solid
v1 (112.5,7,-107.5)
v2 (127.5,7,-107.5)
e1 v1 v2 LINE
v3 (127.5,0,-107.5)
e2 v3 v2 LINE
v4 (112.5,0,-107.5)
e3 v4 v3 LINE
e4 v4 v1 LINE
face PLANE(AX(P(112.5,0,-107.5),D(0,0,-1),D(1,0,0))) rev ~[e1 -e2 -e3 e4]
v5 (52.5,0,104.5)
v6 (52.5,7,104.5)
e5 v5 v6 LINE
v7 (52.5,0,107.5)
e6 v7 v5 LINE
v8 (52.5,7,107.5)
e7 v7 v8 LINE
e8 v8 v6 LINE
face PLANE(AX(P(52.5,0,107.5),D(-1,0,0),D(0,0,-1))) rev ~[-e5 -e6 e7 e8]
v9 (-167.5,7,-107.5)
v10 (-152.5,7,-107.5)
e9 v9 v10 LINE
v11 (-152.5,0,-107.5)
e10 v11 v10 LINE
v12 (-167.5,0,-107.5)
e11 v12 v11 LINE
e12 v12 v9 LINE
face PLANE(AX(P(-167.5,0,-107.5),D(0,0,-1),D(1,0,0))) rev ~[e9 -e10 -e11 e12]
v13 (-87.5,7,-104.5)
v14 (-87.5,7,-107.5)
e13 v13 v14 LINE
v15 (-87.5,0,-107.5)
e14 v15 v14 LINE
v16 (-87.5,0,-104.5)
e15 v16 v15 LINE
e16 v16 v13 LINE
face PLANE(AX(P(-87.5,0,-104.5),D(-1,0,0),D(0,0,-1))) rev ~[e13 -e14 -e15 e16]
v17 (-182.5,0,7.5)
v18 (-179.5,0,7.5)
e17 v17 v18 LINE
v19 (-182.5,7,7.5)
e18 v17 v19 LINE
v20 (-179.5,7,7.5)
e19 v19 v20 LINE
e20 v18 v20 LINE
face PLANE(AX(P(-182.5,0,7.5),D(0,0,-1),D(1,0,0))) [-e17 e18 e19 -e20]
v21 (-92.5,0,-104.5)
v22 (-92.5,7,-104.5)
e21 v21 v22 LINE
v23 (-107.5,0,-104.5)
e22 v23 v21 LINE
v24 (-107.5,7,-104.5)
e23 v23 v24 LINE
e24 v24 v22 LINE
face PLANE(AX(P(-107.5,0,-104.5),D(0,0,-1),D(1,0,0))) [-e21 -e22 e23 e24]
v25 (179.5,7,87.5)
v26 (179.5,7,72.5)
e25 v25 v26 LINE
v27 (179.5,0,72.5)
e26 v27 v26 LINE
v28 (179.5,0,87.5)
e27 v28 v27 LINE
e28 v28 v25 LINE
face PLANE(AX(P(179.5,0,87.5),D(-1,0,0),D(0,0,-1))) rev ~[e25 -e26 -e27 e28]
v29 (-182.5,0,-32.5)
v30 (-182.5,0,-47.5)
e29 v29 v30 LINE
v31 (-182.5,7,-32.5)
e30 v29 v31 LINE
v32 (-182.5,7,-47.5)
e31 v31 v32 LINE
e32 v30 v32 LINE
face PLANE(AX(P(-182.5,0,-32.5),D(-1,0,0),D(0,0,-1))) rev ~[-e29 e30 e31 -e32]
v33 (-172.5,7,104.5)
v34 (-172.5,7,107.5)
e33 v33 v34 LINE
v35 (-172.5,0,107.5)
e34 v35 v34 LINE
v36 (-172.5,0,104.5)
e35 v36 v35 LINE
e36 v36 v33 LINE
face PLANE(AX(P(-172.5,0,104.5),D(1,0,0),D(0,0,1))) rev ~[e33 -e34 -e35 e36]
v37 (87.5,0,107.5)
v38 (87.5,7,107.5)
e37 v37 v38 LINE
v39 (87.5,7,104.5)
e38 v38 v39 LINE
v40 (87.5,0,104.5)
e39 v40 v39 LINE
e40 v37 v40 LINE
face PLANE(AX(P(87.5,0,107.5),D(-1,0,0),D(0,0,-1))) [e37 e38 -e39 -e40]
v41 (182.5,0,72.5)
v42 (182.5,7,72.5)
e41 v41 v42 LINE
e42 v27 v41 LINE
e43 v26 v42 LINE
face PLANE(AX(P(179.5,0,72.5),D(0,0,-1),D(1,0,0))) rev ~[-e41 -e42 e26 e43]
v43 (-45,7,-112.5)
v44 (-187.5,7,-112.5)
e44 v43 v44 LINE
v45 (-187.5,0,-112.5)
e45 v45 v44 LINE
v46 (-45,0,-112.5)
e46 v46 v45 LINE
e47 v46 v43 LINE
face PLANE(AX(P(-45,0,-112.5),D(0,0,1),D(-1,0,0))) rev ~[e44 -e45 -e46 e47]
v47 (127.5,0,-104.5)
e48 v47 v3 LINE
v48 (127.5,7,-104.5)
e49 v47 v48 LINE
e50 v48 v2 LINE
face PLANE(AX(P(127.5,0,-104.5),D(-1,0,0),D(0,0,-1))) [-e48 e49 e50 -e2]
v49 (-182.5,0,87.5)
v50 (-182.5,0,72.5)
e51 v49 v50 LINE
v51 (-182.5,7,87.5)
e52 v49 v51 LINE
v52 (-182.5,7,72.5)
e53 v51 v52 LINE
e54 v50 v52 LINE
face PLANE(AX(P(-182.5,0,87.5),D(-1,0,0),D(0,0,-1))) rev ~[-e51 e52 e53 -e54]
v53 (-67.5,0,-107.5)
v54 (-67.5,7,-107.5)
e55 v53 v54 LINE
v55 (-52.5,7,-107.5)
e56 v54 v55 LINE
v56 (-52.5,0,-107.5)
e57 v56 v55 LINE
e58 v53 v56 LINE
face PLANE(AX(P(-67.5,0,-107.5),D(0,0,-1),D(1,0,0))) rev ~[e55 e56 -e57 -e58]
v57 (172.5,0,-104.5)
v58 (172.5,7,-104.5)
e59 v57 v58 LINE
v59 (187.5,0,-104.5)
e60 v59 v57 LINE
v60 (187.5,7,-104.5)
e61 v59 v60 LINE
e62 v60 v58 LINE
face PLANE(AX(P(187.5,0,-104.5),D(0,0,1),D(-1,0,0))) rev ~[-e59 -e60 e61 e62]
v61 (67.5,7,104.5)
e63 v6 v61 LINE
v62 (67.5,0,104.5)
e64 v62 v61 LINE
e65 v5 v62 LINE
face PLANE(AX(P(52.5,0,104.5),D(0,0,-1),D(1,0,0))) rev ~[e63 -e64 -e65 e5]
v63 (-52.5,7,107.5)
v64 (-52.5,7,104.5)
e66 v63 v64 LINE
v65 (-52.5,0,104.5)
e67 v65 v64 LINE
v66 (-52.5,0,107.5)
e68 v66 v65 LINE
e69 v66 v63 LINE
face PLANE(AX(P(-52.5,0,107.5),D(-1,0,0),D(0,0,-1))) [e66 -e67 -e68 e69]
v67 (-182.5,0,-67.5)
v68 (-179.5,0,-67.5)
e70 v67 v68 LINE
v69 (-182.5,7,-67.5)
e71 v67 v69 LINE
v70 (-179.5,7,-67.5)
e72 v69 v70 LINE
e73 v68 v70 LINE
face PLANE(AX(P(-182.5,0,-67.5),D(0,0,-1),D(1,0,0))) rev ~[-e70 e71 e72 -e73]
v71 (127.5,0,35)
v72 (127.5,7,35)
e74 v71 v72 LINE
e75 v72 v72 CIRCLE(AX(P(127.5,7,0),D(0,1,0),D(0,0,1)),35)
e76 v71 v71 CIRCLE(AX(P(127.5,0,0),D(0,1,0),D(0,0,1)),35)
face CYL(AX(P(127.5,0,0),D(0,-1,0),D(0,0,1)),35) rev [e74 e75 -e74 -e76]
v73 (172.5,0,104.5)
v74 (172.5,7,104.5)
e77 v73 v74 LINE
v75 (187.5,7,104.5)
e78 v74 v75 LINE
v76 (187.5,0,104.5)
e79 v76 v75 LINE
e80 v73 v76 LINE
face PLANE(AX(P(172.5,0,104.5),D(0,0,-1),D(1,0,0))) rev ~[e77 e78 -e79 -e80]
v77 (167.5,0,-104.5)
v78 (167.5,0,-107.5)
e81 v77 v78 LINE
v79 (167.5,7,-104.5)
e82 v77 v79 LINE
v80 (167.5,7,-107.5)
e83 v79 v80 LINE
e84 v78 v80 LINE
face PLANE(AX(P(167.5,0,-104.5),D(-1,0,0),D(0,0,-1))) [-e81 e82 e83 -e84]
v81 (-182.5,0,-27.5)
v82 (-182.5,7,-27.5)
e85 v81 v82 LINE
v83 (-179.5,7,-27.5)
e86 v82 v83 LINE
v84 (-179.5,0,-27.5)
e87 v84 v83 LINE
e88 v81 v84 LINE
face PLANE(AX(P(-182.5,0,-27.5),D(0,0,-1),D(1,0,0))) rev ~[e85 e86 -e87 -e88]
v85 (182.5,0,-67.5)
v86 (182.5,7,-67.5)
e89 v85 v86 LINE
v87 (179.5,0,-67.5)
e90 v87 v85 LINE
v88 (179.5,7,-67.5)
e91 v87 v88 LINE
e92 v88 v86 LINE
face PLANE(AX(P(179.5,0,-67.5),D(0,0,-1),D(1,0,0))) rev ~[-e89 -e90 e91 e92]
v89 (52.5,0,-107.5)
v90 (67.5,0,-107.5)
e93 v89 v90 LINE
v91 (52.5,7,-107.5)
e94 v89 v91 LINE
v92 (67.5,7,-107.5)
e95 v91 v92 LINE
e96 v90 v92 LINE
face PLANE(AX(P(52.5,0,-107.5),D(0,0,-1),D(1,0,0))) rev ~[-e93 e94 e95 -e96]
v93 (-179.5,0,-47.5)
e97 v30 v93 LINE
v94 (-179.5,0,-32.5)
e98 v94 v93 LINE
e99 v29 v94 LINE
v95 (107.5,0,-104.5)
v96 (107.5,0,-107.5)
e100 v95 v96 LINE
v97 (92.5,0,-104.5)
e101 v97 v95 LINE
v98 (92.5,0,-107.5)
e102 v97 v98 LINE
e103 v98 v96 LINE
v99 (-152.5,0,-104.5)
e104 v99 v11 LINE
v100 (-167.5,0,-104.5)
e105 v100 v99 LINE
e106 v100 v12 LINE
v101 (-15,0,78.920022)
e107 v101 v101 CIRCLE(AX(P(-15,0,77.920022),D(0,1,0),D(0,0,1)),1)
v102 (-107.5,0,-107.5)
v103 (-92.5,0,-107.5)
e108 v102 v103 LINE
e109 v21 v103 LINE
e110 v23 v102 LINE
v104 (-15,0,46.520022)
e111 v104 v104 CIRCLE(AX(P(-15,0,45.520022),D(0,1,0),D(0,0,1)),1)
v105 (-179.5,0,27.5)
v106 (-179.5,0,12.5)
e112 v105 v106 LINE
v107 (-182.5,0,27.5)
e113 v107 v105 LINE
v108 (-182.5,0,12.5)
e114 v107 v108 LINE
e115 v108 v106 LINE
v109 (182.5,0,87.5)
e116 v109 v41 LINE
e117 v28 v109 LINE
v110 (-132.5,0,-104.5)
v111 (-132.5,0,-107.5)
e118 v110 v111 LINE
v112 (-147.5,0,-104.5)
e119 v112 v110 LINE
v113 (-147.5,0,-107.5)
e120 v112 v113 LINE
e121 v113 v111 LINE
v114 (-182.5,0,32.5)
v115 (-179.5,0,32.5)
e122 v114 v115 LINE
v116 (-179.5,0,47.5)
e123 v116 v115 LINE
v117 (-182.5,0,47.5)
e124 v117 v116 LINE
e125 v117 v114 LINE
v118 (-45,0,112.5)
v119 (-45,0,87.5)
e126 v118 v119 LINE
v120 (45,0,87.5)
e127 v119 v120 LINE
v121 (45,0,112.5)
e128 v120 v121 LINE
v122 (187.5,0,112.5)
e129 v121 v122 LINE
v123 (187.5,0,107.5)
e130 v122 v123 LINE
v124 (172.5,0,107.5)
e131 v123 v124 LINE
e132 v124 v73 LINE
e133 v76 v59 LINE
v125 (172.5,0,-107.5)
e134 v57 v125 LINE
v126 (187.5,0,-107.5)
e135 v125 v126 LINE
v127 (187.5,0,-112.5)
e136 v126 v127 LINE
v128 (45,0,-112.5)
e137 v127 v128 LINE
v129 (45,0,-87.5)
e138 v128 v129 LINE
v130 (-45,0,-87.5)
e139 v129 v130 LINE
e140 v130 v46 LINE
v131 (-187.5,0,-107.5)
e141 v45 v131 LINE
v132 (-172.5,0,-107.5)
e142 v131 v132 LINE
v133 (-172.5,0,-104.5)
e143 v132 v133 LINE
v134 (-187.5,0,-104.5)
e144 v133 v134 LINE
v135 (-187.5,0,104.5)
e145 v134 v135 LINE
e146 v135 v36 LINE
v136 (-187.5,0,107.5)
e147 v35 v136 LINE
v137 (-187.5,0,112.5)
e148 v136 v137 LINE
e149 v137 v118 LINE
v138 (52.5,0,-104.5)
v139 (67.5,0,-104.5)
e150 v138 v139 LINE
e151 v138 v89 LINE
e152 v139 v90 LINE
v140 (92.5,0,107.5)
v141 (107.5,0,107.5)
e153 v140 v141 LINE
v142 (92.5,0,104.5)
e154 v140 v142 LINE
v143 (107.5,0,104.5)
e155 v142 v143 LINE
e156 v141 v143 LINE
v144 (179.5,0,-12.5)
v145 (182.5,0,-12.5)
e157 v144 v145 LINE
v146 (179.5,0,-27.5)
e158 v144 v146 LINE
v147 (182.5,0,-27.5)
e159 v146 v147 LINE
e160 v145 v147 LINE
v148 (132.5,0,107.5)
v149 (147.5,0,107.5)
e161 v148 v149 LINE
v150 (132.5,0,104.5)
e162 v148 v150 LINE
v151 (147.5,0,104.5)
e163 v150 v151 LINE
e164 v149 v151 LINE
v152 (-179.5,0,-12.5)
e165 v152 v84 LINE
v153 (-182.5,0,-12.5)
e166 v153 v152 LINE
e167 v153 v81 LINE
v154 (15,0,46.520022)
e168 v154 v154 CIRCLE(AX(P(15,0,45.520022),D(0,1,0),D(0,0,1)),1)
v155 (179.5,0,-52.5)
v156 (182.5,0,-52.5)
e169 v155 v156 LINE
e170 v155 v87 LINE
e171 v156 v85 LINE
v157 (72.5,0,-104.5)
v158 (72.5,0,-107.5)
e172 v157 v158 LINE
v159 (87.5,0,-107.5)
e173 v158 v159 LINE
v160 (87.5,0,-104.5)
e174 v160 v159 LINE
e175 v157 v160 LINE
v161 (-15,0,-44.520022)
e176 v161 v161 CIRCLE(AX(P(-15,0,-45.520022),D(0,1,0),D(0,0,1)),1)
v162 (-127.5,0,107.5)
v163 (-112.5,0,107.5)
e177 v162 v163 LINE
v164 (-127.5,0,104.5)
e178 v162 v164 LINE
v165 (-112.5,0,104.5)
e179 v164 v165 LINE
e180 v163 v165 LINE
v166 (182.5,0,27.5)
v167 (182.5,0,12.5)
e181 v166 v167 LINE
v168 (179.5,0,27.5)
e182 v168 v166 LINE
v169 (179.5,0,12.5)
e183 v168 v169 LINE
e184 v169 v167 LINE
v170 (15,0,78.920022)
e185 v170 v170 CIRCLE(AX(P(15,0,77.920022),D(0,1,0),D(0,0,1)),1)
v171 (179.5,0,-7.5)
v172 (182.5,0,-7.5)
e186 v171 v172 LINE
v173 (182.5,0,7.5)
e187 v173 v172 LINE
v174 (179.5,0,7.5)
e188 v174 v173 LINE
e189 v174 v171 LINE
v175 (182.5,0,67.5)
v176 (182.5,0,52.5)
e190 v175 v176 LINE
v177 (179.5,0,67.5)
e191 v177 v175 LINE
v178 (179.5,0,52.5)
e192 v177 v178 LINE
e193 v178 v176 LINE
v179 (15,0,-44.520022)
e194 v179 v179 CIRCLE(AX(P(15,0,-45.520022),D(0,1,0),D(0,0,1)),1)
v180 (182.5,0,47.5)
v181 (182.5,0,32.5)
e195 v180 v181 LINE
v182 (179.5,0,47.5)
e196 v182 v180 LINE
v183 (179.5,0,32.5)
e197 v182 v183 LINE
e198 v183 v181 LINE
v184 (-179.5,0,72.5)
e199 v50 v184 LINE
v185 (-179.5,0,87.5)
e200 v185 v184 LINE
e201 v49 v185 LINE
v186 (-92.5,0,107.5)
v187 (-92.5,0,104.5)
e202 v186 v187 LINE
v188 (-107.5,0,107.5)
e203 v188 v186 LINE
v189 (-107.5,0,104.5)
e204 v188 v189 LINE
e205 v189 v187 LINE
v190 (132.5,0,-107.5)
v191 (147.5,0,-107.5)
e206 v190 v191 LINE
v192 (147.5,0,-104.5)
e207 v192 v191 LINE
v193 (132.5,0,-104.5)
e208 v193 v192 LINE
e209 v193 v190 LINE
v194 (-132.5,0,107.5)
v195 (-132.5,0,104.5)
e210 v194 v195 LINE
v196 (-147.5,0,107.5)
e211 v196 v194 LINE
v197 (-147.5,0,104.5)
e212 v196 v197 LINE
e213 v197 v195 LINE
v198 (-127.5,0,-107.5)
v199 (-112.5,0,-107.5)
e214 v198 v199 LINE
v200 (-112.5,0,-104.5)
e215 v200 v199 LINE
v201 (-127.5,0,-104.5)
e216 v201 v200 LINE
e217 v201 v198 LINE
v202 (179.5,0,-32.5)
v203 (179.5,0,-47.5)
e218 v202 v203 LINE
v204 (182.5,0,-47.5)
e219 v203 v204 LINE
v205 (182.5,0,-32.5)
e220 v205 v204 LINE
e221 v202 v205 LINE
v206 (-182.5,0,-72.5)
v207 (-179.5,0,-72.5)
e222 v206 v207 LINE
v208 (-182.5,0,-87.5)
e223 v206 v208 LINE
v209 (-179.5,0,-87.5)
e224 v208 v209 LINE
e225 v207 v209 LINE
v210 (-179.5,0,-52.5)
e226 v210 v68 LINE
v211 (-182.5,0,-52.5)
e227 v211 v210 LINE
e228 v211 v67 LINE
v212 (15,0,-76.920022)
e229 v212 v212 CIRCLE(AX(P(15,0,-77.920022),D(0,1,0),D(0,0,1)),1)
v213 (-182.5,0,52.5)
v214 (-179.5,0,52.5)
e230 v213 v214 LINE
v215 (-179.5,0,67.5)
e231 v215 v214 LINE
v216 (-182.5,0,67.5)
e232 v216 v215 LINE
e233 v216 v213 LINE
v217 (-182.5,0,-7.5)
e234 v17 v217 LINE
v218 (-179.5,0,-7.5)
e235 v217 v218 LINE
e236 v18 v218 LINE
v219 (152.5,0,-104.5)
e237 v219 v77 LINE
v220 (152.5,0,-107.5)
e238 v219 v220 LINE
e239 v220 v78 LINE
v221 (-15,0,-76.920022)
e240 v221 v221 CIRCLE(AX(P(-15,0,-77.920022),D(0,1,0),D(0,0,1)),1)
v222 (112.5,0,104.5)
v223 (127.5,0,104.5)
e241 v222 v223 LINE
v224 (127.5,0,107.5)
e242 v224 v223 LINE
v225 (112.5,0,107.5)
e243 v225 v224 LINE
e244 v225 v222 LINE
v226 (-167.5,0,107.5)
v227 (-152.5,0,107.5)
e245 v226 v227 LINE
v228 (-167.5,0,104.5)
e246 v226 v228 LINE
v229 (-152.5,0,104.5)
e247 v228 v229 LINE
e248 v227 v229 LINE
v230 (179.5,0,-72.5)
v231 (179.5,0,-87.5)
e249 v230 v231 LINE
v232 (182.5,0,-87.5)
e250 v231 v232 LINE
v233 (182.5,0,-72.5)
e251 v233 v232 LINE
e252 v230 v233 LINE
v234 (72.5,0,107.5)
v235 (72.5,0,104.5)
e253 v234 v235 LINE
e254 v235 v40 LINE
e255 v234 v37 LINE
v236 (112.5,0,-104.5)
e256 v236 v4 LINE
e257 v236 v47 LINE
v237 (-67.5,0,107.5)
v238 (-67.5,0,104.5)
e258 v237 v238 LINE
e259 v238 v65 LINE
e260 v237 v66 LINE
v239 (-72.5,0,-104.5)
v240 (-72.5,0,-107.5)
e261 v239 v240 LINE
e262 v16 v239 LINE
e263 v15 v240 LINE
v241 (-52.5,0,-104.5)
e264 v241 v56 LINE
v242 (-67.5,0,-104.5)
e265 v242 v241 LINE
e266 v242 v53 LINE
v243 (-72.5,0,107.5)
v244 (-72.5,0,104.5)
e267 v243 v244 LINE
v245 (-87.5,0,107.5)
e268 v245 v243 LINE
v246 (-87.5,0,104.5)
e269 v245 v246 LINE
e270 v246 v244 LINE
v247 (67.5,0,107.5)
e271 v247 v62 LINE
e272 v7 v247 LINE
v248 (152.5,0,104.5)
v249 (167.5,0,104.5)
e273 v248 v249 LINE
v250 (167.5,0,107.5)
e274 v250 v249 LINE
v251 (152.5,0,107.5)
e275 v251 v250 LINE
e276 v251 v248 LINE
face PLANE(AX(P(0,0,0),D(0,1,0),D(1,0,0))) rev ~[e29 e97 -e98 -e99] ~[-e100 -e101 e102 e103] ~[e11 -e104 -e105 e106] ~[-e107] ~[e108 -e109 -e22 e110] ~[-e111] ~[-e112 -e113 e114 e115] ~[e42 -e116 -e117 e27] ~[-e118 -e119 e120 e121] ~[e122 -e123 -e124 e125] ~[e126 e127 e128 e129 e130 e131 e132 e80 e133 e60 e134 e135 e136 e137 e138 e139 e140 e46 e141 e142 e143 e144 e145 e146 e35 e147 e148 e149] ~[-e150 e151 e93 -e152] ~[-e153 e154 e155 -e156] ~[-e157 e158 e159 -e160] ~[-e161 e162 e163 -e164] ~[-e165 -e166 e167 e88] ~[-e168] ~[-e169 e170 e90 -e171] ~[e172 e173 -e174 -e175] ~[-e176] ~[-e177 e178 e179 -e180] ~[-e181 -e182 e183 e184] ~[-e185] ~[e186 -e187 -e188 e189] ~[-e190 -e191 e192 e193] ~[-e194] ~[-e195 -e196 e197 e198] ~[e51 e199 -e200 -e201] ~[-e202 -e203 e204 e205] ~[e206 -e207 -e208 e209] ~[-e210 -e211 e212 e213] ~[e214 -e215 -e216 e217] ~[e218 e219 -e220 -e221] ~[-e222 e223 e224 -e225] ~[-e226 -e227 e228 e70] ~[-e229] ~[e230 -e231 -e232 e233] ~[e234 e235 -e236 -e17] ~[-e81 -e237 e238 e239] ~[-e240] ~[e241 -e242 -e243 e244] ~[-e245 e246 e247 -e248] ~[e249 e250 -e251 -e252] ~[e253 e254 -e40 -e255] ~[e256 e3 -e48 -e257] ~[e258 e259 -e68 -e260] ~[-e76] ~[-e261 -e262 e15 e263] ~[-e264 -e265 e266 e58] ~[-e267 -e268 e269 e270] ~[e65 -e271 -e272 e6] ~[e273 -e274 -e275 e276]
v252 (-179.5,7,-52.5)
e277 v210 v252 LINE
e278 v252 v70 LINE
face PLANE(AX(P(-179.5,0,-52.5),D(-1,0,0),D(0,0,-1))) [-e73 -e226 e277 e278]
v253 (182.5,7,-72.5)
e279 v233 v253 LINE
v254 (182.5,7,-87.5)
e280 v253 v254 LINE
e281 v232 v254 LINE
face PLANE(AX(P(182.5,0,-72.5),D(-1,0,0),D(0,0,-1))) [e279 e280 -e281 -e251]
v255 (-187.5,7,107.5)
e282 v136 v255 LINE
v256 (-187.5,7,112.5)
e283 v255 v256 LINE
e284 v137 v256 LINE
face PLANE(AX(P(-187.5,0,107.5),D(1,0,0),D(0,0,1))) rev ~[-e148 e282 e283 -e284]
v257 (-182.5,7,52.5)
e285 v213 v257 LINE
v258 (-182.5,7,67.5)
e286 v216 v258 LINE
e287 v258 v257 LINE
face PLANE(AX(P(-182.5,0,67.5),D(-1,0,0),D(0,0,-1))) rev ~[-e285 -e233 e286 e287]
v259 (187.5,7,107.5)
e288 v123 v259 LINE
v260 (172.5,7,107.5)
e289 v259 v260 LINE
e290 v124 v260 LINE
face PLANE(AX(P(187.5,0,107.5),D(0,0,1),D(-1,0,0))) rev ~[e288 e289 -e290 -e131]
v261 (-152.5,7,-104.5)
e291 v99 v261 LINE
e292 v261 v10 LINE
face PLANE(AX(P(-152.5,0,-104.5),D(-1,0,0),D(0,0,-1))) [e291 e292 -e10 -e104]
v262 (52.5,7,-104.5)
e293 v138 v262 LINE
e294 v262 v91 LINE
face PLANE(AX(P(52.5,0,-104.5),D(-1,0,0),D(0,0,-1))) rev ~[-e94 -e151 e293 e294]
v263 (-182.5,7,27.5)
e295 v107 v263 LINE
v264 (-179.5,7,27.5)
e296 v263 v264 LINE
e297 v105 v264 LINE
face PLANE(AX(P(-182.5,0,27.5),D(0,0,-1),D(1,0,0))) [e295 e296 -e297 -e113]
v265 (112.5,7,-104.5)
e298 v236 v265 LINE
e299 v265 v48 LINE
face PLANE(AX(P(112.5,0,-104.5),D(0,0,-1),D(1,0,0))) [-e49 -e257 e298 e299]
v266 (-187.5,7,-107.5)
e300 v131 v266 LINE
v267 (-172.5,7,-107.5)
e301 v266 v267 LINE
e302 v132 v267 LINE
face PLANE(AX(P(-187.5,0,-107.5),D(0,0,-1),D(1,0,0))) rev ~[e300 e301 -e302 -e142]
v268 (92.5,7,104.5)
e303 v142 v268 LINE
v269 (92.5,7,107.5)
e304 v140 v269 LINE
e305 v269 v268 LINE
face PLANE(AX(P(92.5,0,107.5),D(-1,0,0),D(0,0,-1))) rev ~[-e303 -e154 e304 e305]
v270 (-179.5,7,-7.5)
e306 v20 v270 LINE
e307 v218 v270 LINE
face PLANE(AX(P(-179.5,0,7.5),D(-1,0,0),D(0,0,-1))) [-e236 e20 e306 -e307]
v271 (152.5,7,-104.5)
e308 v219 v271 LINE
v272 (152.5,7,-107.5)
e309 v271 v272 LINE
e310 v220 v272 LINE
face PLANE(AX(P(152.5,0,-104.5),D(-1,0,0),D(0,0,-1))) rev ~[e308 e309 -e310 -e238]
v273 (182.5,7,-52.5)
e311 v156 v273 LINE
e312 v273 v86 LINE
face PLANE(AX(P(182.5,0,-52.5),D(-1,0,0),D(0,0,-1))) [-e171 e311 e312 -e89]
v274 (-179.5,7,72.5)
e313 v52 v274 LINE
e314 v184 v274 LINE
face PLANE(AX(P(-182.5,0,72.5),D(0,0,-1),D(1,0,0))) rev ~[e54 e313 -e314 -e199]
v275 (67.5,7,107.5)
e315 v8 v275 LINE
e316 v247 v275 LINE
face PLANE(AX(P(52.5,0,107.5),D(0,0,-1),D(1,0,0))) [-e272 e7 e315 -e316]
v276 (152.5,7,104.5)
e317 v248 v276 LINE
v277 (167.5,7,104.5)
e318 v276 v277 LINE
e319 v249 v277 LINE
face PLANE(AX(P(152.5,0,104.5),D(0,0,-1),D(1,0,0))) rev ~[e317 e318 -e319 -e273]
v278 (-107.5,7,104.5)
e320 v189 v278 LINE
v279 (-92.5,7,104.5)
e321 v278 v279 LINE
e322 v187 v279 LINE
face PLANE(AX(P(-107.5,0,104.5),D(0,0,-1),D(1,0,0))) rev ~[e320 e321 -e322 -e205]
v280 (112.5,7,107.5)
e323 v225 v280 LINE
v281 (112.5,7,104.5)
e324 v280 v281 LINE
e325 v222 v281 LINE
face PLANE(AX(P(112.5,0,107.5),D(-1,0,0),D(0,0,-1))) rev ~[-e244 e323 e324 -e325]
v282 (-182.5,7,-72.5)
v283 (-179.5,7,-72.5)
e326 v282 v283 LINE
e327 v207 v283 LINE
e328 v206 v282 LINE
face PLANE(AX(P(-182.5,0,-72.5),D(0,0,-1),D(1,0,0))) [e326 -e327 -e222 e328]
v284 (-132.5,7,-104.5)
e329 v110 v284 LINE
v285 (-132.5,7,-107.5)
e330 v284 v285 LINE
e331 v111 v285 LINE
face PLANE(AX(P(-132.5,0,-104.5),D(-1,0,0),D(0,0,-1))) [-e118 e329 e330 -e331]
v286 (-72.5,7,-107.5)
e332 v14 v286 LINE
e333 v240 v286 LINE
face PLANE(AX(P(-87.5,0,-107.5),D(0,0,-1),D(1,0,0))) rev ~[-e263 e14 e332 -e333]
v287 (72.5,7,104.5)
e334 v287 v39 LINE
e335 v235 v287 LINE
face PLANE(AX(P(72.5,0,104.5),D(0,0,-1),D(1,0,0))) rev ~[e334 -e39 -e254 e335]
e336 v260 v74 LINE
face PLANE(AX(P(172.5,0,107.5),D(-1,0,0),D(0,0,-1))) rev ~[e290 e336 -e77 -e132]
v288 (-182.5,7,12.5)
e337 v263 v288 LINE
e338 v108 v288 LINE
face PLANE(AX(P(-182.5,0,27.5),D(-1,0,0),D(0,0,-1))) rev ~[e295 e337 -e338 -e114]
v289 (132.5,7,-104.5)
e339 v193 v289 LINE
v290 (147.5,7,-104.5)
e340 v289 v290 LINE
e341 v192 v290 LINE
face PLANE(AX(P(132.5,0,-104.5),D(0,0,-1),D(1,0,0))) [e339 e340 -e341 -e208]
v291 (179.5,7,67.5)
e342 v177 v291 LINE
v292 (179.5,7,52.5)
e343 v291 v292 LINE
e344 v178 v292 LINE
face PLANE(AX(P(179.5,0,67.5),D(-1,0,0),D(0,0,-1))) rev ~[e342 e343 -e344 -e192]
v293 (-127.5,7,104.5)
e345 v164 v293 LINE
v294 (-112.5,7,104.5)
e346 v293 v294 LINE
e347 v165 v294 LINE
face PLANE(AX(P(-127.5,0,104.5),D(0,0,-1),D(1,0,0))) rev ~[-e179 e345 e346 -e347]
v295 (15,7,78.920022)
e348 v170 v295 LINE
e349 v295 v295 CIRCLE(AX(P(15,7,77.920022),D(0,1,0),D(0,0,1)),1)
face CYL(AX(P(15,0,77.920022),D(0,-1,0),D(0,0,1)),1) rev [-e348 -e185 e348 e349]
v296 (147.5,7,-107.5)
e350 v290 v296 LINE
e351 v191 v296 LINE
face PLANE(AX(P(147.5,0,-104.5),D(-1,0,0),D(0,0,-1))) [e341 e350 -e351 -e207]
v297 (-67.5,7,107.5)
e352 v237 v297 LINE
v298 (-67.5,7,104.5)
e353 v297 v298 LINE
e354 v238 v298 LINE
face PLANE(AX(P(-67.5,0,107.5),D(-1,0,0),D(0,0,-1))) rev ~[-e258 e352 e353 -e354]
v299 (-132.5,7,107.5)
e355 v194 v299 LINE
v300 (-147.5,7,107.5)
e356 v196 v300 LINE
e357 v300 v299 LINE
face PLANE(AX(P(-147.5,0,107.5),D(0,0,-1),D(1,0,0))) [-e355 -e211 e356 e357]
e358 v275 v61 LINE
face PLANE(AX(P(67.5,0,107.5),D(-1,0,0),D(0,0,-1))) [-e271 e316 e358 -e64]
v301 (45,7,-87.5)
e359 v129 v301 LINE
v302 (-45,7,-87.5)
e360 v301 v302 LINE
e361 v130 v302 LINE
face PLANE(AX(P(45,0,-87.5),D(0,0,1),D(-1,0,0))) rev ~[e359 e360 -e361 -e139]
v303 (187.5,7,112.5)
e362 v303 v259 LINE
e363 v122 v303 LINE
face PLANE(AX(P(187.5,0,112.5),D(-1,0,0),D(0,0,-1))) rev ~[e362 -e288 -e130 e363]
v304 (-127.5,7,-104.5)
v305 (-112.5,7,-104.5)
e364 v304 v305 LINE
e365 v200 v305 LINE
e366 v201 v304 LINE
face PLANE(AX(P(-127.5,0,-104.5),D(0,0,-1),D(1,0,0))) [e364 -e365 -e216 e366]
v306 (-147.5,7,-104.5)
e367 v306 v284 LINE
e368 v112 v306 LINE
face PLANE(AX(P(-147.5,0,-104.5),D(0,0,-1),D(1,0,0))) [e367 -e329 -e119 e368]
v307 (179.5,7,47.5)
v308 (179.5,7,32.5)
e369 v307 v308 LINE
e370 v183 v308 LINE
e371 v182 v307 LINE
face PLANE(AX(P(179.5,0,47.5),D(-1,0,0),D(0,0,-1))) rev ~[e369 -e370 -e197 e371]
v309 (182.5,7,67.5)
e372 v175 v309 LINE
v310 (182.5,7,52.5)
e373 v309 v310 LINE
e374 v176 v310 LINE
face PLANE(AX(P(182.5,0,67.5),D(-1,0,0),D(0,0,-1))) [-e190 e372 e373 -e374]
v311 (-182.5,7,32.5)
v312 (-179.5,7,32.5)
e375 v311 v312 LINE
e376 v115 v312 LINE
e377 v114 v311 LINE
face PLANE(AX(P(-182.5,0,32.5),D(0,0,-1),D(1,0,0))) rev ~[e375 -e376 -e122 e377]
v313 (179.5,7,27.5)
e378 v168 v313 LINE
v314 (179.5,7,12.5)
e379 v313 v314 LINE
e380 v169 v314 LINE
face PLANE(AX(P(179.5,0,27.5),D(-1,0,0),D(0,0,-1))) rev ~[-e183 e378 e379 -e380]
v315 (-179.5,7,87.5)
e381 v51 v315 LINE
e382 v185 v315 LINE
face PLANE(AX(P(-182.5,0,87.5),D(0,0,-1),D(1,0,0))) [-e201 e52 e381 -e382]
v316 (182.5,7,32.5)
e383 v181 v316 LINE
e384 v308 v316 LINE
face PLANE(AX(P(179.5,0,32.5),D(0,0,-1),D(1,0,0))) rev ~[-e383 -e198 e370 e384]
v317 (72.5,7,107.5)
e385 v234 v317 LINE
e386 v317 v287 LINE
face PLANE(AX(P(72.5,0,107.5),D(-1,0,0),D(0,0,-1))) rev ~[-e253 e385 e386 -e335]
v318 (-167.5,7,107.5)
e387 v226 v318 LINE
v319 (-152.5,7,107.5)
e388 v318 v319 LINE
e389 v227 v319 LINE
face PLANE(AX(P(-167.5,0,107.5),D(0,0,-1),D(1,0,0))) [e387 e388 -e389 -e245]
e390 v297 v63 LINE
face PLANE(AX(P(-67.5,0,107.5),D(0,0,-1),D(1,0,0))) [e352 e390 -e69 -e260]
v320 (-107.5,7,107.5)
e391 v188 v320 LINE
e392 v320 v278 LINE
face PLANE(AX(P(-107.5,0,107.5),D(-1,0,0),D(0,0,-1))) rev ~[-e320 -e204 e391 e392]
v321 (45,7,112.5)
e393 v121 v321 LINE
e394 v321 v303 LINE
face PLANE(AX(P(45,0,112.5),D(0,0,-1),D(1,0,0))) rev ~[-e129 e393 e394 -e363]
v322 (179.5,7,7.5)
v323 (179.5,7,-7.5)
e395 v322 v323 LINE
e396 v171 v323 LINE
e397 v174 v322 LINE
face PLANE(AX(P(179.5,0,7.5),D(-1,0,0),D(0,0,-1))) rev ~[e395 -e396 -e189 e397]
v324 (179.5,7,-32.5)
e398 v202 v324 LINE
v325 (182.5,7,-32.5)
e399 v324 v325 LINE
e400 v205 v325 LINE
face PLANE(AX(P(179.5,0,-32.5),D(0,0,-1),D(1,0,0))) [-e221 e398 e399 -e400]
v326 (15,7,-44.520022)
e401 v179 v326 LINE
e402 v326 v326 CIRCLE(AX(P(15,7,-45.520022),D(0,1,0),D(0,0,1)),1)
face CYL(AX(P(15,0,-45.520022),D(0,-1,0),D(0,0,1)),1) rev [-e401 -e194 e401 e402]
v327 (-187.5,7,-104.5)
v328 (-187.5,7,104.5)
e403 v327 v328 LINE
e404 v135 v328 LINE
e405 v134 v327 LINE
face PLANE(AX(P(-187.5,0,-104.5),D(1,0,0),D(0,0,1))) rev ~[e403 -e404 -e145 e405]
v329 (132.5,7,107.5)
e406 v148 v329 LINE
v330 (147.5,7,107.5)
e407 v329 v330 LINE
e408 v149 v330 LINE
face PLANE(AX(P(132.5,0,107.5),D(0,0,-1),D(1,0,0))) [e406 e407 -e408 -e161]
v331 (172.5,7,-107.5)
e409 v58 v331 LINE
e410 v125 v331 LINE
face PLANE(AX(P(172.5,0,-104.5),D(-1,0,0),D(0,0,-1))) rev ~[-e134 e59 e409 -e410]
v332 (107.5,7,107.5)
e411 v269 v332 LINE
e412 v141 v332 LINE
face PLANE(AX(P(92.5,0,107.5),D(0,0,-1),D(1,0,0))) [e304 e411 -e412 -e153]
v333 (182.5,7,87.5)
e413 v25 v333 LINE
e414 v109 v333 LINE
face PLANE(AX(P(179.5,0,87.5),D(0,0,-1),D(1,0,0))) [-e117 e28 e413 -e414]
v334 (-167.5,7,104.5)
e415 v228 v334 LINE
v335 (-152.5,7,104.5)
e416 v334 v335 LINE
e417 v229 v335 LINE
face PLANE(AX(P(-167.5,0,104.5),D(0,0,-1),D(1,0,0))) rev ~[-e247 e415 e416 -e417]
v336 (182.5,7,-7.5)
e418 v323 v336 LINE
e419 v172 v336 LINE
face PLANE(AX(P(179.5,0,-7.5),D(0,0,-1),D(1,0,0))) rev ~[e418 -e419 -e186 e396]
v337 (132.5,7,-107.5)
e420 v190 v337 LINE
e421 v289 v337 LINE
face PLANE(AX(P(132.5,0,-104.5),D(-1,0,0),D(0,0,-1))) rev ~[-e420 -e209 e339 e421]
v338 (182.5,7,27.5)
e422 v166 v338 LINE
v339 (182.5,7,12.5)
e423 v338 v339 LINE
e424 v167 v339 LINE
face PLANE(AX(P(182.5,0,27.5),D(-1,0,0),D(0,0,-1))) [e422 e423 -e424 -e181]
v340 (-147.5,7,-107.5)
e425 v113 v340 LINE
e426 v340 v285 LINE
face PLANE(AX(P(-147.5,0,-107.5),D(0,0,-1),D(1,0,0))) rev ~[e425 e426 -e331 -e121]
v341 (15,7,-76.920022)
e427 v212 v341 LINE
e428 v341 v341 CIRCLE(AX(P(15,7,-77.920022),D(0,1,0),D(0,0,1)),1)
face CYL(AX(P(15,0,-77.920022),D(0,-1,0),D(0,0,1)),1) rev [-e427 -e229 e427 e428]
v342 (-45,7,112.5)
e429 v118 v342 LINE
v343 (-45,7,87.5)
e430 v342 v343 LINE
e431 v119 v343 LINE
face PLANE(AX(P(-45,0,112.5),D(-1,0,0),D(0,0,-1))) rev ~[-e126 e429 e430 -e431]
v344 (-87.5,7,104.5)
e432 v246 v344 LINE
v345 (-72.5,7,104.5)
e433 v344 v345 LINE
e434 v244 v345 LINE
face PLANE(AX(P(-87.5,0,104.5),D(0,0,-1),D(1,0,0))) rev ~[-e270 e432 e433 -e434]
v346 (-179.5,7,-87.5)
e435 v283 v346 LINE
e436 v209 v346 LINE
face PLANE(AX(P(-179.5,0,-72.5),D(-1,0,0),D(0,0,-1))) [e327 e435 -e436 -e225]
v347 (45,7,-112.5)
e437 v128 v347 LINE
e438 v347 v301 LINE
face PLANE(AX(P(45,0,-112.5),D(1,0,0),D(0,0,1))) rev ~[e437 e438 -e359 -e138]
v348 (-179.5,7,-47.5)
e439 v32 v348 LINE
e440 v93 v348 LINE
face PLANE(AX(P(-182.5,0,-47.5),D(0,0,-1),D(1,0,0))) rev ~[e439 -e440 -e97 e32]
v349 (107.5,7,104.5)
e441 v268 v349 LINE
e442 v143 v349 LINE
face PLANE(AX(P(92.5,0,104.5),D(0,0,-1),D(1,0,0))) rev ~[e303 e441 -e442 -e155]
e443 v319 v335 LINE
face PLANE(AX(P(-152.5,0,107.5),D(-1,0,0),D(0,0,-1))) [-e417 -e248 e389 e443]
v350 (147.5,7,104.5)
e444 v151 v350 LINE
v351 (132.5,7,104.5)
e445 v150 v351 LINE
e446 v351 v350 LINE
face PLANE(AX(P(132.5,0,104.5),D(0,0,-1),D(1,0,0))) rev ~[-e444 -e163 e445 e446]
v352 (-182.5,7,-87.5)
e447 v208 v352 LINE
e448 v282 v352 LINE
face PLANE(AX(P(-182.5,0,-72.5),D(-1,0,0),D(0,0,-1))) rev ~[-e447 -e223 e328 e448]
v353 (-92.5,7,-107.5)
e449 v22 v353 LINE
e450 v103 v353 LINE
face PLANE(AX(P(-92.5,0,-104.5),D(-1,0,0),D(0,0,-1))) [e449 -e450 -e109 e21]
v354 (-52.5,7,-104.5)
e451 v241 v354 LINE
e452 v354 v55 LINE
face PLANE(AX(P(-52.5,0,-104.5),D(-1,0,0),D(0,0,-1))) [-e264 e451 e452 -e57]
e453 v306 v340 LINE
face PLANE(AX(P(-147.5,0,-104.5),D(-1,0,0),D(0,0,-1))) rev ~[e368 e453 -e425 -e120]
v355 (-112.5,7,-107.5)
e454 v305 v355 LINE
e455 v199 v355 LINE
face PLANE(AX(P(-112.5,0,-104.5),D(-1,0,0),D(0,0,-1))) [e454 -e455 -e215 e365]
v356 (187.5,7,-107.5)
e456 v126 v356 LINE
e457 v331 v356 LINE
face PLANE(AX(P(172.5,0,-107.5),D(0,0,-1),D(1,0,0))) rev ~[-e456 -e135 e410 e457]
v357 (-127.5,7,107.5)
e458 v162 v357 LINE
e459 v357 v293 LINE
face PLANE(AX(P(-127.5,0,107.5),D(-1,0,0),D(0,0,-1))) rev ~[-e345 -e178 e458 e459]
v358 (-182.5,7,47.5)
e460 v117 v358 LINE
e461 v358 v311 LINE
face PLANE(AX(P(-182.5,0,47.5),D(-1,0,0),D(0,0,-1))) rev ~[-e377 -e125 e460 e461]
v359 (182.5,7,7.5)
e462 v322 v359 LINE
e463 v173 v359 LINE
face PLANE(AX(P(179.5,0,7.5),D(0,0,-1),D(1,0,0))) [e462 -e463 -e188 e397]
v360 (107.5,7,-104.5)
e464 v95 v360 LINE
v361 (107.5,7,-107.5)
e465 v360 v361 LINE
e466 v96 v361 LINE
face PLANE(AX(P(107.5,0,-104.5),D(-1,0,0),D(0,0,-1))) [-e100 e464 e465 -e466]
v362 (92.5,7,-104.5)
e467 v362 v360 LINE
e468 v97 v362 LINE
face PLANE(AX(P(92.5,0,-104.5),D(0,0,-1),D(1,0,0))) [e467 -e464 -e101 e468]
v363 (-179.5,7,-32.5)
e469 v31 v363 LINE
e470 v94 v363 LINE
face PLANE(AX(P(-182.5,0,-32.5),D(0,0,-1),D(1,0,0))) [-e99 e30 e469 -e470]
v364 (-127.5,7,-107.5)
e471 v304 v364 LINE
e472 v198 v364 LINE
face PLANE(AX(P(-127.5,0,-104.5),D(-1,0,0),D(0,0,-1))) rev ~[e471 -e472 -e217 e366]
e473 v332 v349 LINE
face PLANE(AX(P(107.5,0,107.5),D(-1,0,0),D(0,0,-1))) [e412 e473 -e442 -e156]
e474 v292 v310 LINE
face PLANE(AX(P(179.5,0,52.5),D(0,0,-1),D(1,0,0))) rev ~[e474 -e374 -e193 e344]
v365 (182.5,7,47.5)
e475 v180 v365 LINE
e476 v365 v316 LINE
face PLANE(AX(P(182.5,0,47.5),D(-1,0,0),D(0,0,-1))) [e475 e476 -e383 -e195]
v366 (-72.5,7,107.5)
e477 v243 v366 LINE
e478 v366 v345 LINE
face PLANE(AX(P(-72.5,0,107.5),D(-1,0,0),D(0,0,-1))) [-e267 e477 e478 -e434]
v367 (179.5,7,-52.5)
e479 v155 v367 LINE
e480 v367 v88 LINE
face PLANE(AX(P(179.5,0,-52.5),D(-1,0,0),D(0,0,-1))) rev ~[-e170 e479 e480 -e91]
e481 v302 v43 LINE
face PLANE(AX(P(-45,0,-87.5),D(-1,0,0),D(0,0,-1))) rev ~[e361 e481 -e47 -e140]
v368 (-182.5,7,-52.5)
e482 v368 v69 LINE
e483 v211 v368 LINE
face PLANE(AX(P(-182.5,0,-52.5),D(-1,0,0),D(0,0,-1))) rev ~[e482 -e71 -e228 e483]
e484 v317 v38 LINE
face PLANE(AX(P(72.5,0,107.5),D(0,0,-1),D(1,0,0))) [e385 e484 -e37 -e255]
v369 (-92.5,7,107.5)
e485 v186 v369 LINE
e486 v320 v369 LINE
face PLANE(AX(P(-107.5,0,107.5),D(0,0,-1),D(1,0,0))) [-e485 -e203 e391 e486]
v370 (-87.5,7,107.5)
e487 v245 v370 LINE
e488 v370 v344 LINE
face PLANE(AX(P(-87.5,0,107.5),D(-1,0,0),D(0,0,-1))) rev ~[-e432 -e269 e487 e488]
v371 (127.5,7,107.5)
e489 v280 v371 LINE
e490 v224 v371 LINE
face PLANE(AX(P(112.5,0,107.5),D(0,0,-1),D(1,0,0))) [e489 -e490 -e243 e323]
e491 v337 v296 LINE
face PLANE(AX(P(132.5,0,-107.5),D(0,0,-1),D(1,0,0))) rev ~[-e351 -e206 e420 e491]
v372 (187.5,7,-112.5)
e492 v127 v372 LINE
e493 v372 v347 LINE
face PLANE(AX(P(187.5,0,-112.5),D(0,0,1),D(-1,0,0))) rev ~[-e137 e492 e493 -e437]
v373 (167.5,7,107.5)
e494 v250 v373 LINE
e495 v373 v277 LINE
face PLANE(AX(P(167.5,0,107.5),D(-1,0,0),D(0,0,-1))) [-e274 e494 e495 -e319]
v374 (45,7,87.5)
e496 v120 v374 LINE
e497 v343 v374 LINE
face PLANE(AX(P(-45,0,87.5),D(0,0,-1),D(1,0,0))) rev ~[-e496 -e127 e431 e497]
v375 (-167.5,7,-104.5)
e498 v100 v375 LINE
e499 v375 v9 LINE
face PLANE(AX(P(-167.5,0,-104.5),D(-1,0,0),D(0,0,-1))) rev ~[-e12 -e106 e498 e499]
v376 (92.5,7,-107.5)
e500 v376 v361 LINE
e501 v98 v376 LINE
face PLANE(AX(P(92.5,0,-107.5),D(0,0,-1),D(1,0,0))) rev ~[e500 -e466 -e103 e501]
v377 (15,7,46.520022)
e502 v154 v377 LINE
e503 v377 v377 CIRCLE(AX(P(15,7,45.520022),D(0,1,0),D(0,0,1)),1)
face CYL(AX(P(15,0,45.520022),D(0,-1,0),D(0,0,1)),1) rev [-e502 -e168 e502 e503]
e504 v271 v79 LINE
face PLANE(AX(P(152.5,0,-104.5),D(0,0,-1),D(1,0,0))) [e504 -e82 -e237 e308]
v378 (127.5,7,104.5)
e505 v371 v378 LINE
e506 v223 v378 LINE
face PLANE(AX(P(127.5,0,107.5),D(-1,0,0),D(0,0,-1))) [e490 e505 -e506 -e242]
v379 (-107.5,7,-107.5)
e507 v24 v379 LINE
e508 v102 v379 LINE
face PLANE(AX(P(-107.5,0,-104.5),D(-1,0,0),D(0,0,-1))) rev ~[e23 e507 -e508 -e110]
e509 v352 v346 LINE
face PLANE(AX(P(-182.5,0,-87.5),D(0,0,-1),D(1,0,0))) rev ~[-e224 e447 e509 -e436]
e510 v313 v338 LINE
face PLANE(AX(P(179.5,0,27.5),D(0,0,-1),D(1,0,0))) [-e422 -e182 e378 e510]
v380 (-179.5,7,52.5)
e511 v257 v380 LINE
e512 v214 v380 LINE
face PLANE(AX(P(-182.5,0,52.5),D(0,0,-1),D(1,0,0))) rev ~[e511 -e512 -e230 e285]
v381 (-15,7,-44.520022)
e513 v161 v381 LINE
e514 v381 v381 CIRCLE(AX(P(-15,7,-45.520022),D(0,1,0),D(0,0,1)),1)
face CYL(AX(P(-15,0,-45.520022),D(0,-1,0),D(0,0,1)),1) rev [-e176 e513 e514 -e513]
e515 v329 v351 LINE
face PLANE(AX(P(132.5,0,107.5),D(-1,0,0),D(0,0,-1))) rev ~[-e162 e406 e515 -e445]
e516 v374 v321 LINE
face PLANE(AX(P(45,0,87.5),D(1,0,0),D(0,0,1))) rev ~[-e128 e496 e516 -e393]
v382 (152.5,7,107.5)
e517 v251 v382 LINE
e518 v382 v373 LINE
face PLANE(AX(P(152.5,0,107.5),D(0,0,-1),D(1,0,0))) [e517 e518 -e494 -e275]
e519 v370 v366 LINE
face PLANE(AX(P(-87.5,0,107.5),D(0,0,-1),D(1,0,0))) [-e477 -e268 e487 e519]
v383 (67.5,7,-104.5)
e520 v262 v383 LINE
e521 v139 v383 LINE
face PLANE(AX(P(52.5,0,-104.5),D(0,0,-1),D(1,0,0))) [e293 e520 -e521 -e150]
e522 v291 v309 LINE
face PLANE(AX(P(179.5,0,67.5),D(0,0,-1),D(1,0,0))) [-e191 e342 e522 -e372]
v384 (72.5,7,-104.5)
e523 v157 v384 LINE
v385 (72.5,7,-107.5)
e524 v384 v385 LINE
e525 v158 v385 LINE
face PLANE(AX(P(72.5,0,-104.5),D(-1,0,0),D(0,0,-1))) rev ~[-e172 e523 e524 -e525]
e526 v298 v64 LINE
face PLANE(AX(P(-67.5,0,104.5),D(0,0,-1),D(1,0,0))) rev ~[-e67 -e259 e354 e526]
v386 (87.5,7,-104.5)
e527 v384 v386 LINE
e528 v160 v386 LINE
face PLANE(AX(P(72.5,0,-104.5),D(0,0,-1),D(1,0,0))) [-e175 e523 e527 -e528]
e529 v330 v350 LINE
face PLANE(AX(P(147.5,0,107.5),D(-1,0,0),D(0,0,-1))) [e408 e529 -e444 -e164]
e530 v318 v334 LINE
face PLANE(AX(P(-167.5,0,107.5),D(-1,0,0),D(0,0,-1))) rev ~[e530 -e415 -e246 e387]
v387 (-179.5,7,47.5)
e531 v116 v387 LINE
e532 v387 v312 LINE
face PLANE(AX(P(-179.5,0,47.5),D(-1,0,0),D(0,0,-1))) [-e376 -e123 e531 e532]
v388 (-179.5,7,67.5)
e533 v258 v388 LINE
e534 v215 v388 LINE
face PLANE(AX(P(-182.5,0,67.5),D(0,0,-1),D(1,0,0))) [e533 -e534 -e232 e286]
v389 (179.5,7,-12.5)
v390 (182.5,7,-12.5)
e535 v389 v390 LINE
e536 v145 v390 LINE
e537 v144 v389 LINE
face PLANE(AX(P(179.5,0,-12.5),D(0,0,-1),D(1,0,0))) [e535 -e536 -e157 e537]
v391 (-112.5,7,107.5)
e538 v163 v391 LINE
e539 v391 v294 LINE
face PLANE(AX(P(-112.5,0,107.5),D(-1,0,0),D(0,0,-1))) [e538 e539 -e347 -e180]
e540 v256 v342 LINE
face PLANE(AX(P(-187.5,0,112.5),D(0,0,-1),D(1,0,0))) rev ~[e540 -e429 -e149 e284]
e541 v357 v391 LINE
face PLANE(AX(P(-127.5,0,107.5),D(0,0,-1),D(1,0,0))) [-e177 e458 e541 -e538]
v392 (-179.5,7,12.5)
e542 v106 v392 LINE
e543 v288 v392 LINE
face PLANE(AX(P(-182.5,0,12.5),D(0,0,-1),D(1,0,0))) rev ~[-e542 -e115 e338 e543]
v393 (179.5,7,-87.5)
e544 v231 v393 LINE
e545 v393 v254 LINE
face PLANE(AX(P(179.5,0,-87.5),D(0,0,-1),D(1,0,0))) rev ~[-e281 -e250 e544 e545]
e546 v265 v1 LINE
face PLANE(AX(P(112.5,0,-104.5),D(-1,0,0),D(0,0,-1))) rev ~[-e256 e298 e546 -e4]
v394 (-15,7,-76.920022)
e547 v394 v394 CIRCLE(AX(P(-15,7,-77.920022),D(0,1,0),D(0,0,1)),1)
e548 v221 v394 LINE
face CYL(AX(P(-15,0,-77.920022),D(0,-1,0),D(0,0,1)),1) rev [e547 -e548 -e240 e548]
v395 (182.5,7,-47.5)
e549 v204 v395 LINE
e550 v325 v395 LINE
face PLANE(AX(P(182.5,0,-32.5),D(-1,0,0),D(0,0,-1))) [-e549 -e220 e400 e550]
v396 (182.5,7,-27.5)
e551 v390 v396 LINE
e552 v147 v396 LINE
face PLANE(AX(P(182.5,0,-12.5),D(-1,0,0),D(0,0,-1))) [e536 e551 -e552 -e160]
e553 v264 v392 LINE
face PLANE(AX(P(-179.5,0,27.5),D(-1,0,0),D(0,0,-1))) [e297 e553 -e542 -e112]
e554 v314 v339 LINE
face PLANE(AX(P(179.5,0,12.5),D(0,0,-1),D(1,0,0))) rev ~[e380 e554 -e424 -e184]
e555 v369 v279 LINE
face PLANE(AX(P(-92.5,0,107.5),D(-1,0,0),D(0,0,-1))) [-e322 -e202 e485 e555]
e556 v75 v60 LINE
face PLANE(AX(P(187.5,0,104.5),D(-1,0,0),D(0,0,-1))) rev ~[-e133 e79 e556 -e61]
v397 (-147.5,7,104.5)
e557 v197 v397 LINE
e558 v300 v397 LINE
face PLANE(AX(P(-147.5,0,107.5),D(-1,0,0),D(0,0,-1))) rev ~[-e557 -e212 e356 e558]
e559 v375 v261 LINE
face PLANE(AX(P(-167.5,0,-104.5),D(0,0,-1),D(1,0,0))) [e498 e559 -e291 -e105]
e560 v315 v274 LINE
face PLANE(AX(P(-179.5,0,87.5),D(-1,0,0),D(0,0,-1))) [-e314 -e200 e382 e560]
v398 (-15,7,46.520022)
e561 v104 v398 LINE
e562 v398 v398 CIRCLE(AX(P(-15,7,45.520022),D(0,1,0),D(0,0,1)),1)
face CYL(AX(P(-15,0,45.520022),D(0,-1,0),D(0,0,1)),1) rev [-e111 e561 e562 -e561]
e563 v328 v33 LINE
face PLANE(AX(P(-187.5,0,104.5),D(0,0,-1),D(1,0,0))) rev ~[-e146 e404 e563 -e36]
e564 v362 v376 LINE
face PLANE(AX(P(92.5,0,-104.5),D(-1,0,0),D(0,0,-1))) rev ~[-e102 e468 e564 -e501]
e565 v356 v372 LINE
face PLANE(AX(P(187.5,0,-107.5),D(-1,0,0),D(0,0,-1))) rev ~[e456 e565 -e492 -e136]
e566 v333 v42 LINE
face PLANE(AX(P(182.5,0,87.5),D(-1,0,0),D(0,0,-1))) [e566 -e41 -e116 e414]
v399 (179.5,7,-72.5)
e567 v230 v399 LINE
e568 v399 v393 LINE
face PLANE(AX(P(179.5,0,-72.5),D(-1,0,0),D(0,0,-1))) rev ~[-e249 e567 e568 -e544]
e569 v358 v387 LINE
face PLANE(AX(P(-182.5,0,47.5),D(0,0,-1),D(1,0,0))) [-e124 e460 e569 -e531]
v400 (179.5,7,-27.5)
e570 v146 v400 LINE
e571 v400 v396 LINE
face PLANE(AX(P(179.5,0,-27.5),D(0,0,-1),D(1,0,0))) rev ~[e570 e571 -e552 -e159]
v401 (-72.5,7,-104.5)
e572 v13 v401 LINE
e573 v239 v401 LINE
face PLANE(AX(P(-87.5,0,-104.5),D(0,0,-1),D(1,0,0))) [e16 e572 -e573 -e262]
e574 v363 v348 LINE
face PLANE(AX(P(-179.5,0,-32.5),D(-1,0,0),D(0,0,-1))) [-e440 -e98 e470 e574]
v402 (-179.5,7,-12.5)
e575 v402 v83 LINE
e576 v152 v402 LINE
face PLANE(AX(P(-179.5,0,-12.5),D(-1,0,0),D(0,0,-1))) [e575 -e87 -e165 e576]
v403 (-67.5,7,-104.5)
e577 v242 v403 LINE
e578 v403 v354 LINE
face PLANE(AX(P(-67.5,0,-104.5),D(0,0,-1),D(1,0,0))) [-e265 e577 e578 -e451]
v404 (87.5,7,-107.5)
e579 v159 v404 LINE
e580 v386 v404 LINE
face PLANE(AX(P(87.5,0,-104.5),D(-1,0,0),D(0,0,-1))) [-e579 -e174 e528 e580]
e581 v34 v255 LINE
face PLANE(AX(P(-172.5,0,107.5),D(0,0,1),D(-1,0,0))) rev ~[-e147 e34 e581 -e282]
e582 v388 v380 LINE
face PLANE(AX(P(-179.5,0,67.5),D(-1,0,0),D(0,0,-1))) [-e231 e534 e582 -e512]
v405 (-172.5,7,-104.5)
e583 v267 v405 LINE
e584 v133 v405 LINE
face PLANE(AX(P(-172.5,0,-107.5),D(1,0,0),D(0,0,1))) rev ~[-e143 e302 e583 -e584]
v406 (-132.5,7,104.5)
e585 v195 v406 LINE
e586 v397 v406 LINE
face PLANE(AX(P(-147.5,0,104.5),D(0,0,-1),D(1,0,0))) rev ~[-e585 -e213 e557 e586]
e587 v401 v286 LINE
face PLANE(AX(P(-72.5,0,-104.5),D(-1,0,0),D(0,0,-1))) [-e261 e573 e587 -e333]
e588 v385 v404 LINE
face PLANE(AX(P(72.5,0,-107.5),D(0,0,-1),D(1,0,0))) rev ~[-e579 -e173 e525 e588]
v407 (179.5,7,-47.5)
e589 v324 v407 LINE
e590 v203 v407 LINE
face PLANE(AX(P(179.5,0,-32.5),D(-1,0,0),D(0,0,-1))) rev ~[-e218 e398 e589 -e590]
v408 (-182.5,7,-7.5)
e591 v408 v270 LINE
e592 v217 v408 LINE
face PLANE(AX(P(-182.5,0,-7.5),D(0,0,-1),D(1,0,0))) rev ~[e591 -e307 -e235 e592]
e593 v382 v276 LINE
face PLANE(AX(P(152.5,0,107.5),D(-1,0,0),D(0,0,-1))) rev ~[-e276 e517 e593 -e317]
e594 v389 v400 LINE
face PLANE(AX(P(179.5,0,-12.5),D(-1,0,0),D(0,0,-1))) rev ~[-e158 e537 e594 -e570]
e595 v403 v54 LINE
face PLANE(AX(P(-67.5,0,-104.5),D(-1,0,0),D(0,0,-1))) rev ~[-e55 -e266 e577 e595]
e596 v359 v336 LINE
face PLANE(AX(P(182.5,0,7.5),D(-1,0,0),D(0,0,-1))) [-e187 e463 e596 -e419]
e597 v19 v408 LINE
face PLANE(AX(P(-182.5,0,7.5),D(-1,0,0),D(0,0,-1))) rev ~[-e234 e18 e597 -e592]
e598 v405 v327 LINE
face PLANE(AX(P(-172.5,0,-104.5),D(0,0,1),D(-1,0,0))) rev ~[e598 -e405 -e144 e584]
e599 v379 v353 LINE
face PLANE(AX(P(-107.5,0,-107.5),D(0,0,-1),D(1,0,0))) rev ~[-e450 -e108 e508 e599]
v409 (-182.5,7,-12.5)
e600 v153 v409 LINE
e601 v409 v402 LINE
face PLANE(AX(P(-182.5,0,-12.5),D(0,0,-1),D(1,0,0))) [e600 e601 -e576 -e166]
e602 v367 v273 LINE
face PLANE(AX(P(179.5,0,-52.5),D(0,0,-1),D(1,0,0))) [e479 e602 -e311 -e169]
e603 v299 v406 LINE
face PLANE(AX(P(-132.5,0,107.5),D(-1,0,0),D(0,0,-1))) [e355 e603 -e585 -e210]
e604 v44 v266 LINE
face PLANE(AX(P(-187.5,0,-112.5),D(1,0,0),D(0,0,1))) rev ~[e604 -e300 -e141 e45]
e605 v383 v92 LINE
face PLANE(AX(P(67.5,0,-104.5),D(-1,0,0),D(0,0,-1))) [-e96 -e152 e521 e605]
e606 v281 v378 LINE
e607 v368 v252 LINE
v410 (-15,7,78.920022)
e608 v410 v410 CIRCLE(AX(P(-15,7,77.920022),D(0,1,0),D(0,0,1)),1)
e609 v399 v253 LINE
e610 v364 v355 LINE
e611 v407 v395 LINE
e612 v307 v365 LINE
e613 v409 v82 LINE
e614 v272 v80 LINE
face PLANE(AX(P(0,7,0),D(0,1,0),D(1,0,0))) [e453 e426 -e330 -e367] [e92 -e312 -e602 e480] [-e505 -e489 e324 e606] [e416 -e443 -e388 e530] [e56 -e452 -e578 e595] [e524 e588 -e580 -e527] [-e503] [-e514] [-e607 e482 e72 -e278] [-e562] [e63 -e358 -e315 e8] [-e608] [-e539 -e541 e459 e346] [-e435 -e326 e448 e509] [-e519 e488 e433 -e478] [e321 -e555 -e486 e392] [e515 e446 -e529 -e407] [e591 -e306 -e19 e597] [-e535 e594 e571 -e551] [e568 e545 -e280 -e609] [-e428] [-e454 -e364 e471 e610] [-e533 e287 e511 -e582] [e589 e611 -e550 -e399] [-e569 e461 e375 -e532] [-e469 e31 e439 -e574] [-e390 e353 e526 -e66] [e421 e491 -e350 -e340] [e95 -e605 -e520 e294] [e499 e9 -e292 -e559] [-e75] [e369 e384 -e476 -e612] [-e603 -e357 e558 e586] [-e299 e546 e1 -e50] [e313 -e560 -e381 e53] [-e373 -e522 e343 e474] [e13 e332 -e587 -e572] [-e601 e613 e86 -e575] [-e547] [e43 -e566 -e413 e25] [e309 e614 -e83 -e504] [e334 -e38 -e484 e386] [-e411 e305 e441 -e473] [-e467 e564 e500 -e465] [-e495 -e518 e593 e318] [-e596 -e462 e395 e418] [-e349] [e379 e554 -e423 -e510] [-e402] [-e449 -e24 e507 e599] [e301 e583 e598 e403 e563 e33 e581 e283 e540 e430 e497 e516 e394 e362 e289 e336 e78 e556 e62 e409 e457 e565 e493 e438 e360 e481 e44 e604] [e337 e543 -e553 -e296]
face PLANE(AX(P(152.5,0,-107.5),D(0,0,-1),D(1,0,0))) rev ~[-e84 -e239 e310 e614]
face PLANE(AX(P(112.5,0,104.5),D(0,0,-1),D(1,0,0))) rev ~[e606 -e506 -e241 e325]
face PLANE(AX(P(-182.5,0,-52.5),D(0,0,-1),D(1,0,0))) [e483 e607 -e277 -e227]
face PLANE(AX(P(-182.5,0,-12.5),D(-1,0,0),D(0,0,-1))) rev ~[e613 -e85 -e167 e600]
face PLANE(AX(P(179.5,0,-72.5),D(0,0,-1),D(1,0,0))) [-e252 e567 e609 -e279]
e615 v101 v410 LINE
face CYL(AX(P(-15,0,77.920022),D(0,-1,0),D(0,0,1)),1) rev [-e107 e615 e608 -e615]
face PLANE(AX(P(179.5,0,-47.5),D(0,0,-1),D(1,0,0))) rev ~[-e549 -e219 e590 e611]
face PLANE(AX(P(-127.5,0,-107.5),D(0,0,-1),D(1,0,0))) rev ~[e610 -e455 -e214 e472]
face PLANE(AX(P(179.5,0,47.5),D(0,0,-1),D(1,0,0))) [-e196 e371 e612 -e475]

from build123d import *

# Parameters (mm, degrees)
SKETCH6_W           = 15
SKETCH6_H           = 3
SKETCH6_W_2         = 3
SKETCH6_H_2         = 15
SKETCH6_R           = 1
SKETCH6_R_2         = 35
BOSS_EXTRUDE3_DEPTH = 7


with BuildPart() as part:
    # Sketch6 → Boss-Extrude3 (new body)
    with BuildSketch(Plane(origin=(0, 0, 0), x_dir=(1, 0, 0), z_dir=(0, 1, 0))):
        Polygon((-45, 112.5), (-187.5, 112.5), (-187.5, 107.5), (-172.5, 107.5), (-172.5, 104.5), (-187.5, 104.5), (-187.5, -104.5), (-172.5, -104.5), (-172.5, -107.5), (-187.5, -107.5), (-187.5, -112.5), (-45, -112.5), (-45, -87.5), (45, -87.5), (45, -112.5), (187.5, -112.5), (187.5, -107.5), (172.5, -107.5), (172.5, -104.5), (187.5, -104.5), (187.5, 104.5), (172.5, 104.5), (172.5, 107.5), (187.5, 107.5), (187.5, 112.5), (45, 112.5), (45, 87.5), (-45, 87.5), align=None)
        with Locations((-160, -106)):
            Rectangle(SKETCH6_W, SKETCH6_H, mode=Mode.SUBTRACT)
        with Locations((-140, -106)):
            Rectangle(SKETCH6_W, SKETCH6_H, mode=Mode.SUBTRACT)
        with Locations((-120, -106)):
            Rectangle(SKETCH6_W, SKETCH6_H, mode=Mode.SUBTRACT)
        with Locations((-100, -106)):
            Rectangle(SKETCH6_W, SKETCH6_H, mode=Mode.SUBTRACT)
        with Locations((-181, -80)):
            Rectangle(SKETCH6_W_2, SKETCH6_H_2, mode=Mode.SUBTRACT)
        with Locations((-181, -60)):
            Rectangle(SKETCH6_W_2, SKETCH6_H_2, mode=Mode.SUBTRACT)
        with Locations((-80, -106)):
            Rectangle(SKETCH6_W, SKETCH6_H, mode=Mode.SUBTRACT)
        with Locations((-60, -106)):
            Rectangle(SKETCH6_W, SKETCH6_H, mode=Mode.SUBTRACT)
        with Locations(Location((-15, -77.920021532, 0), (0, 0, 270))):
            Circle(SKETCH6_R, mode=Mode.SUBTRACT)
        with Locations((-181, -40)):
            Rectangle(SKETCH6_W_2, SKETCH6_H_2, mode=Mode.SUBTRACT)
        with Locations((-181, -20)):
            Rectangle(SKETCH6_W_2, SKETCH6_H_2, mode=Mode.SUBTRACT)
        with Locations(Location((-15, -45.520021532, 0), (0, 0, 270))):
            Circle(SKETCH6_R, mode=Mode.SUBTRACT)
        with Locations((60, -106)):
            Rectangle(SKETCH6_W, SKETCH6_H, mode=Mode.SUBTRACT)
        with Locations((80, -106)):
            Rectangle(SKETCH6_W, SKETCH6_H, mode=Mode.SUBTRACT)
        with Locations(Location((15, -77.920021532, 0), (0, 0, 270))):
            Circle(SKETCH6_R, mode=Mode.SUBTRACT)
        with Locations((100, -106)):
            Rectangle(SKETCH6_W, SKETCH6_H, mode=Mode.SUBTRACT)
        with Locations((120, -106)):
            Rectangle(SKETCH6_W, SKETCH6_H, mode=Mode.SUBTRACT)
        with Locations((140, -106)):
            Rectangle(SKETCH6_W, SKETCH6_H, mode=Mode.SUBTRACT)
        with Locations((160, -106)):
            Rectangle(SKETCH6_W, SKETCH6_H, mode=Mode.SUBTRACT)
        with Locations((181, -80)):
            Rectangle(SKETCH6_W_2, SKETCH6_H_2, mode=Mode.SUBTRACT)
        with Locations((181, -60)):
            Rectangle(SKETCH6_W_2, SKETCH6_H_2, mode=Mode.SUBTRACT)
        with Locations(Location((15, -45.520021532, 0), (0, 0, 270))):
            Circle(SKETCH6_R, mode=Mode.SUBTRACT)
        with Locations((181, -40)):
            Rectangle(SKETCH6_W_2, SKETCH6_H_2, mode=Mode.SUBTRACT)
        with Locations((181, -20)):
            Rectangle(SKETCH6_W_2, SKETCH6_H_2, mode=Mode.SUBTRACT)
        with Locations((-181, 0)):
            Rectangle(SKETCH6_W_2, SKETCH6_H_2, mode=Mode.SUBTRACT)
        with Locations((-181, 20)):
            Rectangle(SKETCH6_W_2, SKETCH6_H_2, mode=Mode.SUBTRACT)
        with Locations((-181, 40)):
            Rectangle(SKETCH6_W_2, SKETCH6_H_2, mode=Mode.SUBTRACT)
        with Locations(Location((-15, 45.520021532, 0), (0, 0, 270))):
            Circle(SKETCH6_R, mode=Mode.SUBTRACT)
        with Locations((-181, 60)):
            Rectangle(SKETCH6_W_2, SKETCH6_H_2, mode=Mode.SUBTRACT)
        with Locations((-181, 80)):
            Rectangle(SKETCH6_W_2, SKETCH6_H_2, mode=Mode.SUBTRACT)
        with Locations((-160, 106)):
            Rectangle(SKETCH6_W, SKETCH6_H, mode=Mode.SUBTRACT)
        with Locations((-140, 106)):
            Rectangle(SKETCH6_W, SKETCH6_H, mode=Mode.SUBTRACT)
        with Locations((-120, 106)):
            Rectangle(SKETCH6_W, SKETCH6_H, mode=Mode.SUBTRACT)
        with Locations((-100, 106)):
            Rectangle(SKETCH6_W, SKETCH6_H, mode=Mode.SUBTRACT)
        with Locations(Location((-15, 77.920021532, 0), (0, 0, 270))):
            Circle(SKETCH6_R, mode=Mode.SUBTRACT)
        with Locations((-80, 106)):
            Rectangle(SKETCH6_W, SKETCH6_H, mode=Mode.SUBTRACT)
        with Locations((-60, 106)):
            Rectangle(SKETCH6_W, SKETCH6_H, mode=Mode.SUBTRACT)
        with Locations(Location((15, 45.520021532, 0), (0, 0, 270))):
            Circle(SKETCH6_R, mode=Mode.SUBTRACT)
        with Locations(Location((127.5, 0, 0), (0, 0, 270))):
            Circle(SKETCH6_R_2, mode=Mode.SUBTRACT)
        with Locations((181, 0)):
            Rectangle(SKETCH6_W_2, SKETCH6_H_2, mode=Mode.SUBTRACT)
        with Locations((181, 20)):
            Rectangle(SKETCH6_W_2, SKETCH6_H_2, mode=Mode.SUBTRACT)
        with Locations((181, 40)):
            Rectangle(SKETCH6_W_2, SKETCH6_H_2, mode=Mode.SUBTRACT)
        with Locations(Location((15, 77.920021532, 0), (0, 0, 270))):
            Circle(SKETCH6_R, mode=Mode.SUBTRACT)
        with Locations((60, 106)):
            Rectangle(SKETCH6_W, SKETCH6_H, mode=Mode.SUBTRACT)
        with Locations((80, 106)):
            Rectangle(SKETCH6_W, SKETCH6_H, mode=Mode.SUBTRACT)
        with Locations((181, 60)):
            Rectangle(SKETCH6_W_2, SKETCH6_H_2, mode=Mode.SUBTRACT)
        with Locations((181, 80)):
            Rectangle(SKETCH6_W_2, SKETCH6_H_2, mode=Mode.SUBTRACT)
        with Locations((100, 106)):
            Rectangle(SKETCH6_W, SKETCH6_H, mode=Mode.SUBTRACT)
        with Locations((120, 106)):
            Rectangle(SKETCH6_W, SKETCH6_H, mode=Mode.SUBTRACT)
        with Locations((140, 106)):
            Rectangle(SKETCH6_W, SKETCH6_H, mode=Mode.SUBTRACT)
        with Locations((160, 106)):
            Rectangle(SKETCH6_W, SKETCH6_H, mode=Mode.SUBTRACT)
    extrude(amount=BOSS_EXTRUDE3_DEPTH)


solid = part.part
